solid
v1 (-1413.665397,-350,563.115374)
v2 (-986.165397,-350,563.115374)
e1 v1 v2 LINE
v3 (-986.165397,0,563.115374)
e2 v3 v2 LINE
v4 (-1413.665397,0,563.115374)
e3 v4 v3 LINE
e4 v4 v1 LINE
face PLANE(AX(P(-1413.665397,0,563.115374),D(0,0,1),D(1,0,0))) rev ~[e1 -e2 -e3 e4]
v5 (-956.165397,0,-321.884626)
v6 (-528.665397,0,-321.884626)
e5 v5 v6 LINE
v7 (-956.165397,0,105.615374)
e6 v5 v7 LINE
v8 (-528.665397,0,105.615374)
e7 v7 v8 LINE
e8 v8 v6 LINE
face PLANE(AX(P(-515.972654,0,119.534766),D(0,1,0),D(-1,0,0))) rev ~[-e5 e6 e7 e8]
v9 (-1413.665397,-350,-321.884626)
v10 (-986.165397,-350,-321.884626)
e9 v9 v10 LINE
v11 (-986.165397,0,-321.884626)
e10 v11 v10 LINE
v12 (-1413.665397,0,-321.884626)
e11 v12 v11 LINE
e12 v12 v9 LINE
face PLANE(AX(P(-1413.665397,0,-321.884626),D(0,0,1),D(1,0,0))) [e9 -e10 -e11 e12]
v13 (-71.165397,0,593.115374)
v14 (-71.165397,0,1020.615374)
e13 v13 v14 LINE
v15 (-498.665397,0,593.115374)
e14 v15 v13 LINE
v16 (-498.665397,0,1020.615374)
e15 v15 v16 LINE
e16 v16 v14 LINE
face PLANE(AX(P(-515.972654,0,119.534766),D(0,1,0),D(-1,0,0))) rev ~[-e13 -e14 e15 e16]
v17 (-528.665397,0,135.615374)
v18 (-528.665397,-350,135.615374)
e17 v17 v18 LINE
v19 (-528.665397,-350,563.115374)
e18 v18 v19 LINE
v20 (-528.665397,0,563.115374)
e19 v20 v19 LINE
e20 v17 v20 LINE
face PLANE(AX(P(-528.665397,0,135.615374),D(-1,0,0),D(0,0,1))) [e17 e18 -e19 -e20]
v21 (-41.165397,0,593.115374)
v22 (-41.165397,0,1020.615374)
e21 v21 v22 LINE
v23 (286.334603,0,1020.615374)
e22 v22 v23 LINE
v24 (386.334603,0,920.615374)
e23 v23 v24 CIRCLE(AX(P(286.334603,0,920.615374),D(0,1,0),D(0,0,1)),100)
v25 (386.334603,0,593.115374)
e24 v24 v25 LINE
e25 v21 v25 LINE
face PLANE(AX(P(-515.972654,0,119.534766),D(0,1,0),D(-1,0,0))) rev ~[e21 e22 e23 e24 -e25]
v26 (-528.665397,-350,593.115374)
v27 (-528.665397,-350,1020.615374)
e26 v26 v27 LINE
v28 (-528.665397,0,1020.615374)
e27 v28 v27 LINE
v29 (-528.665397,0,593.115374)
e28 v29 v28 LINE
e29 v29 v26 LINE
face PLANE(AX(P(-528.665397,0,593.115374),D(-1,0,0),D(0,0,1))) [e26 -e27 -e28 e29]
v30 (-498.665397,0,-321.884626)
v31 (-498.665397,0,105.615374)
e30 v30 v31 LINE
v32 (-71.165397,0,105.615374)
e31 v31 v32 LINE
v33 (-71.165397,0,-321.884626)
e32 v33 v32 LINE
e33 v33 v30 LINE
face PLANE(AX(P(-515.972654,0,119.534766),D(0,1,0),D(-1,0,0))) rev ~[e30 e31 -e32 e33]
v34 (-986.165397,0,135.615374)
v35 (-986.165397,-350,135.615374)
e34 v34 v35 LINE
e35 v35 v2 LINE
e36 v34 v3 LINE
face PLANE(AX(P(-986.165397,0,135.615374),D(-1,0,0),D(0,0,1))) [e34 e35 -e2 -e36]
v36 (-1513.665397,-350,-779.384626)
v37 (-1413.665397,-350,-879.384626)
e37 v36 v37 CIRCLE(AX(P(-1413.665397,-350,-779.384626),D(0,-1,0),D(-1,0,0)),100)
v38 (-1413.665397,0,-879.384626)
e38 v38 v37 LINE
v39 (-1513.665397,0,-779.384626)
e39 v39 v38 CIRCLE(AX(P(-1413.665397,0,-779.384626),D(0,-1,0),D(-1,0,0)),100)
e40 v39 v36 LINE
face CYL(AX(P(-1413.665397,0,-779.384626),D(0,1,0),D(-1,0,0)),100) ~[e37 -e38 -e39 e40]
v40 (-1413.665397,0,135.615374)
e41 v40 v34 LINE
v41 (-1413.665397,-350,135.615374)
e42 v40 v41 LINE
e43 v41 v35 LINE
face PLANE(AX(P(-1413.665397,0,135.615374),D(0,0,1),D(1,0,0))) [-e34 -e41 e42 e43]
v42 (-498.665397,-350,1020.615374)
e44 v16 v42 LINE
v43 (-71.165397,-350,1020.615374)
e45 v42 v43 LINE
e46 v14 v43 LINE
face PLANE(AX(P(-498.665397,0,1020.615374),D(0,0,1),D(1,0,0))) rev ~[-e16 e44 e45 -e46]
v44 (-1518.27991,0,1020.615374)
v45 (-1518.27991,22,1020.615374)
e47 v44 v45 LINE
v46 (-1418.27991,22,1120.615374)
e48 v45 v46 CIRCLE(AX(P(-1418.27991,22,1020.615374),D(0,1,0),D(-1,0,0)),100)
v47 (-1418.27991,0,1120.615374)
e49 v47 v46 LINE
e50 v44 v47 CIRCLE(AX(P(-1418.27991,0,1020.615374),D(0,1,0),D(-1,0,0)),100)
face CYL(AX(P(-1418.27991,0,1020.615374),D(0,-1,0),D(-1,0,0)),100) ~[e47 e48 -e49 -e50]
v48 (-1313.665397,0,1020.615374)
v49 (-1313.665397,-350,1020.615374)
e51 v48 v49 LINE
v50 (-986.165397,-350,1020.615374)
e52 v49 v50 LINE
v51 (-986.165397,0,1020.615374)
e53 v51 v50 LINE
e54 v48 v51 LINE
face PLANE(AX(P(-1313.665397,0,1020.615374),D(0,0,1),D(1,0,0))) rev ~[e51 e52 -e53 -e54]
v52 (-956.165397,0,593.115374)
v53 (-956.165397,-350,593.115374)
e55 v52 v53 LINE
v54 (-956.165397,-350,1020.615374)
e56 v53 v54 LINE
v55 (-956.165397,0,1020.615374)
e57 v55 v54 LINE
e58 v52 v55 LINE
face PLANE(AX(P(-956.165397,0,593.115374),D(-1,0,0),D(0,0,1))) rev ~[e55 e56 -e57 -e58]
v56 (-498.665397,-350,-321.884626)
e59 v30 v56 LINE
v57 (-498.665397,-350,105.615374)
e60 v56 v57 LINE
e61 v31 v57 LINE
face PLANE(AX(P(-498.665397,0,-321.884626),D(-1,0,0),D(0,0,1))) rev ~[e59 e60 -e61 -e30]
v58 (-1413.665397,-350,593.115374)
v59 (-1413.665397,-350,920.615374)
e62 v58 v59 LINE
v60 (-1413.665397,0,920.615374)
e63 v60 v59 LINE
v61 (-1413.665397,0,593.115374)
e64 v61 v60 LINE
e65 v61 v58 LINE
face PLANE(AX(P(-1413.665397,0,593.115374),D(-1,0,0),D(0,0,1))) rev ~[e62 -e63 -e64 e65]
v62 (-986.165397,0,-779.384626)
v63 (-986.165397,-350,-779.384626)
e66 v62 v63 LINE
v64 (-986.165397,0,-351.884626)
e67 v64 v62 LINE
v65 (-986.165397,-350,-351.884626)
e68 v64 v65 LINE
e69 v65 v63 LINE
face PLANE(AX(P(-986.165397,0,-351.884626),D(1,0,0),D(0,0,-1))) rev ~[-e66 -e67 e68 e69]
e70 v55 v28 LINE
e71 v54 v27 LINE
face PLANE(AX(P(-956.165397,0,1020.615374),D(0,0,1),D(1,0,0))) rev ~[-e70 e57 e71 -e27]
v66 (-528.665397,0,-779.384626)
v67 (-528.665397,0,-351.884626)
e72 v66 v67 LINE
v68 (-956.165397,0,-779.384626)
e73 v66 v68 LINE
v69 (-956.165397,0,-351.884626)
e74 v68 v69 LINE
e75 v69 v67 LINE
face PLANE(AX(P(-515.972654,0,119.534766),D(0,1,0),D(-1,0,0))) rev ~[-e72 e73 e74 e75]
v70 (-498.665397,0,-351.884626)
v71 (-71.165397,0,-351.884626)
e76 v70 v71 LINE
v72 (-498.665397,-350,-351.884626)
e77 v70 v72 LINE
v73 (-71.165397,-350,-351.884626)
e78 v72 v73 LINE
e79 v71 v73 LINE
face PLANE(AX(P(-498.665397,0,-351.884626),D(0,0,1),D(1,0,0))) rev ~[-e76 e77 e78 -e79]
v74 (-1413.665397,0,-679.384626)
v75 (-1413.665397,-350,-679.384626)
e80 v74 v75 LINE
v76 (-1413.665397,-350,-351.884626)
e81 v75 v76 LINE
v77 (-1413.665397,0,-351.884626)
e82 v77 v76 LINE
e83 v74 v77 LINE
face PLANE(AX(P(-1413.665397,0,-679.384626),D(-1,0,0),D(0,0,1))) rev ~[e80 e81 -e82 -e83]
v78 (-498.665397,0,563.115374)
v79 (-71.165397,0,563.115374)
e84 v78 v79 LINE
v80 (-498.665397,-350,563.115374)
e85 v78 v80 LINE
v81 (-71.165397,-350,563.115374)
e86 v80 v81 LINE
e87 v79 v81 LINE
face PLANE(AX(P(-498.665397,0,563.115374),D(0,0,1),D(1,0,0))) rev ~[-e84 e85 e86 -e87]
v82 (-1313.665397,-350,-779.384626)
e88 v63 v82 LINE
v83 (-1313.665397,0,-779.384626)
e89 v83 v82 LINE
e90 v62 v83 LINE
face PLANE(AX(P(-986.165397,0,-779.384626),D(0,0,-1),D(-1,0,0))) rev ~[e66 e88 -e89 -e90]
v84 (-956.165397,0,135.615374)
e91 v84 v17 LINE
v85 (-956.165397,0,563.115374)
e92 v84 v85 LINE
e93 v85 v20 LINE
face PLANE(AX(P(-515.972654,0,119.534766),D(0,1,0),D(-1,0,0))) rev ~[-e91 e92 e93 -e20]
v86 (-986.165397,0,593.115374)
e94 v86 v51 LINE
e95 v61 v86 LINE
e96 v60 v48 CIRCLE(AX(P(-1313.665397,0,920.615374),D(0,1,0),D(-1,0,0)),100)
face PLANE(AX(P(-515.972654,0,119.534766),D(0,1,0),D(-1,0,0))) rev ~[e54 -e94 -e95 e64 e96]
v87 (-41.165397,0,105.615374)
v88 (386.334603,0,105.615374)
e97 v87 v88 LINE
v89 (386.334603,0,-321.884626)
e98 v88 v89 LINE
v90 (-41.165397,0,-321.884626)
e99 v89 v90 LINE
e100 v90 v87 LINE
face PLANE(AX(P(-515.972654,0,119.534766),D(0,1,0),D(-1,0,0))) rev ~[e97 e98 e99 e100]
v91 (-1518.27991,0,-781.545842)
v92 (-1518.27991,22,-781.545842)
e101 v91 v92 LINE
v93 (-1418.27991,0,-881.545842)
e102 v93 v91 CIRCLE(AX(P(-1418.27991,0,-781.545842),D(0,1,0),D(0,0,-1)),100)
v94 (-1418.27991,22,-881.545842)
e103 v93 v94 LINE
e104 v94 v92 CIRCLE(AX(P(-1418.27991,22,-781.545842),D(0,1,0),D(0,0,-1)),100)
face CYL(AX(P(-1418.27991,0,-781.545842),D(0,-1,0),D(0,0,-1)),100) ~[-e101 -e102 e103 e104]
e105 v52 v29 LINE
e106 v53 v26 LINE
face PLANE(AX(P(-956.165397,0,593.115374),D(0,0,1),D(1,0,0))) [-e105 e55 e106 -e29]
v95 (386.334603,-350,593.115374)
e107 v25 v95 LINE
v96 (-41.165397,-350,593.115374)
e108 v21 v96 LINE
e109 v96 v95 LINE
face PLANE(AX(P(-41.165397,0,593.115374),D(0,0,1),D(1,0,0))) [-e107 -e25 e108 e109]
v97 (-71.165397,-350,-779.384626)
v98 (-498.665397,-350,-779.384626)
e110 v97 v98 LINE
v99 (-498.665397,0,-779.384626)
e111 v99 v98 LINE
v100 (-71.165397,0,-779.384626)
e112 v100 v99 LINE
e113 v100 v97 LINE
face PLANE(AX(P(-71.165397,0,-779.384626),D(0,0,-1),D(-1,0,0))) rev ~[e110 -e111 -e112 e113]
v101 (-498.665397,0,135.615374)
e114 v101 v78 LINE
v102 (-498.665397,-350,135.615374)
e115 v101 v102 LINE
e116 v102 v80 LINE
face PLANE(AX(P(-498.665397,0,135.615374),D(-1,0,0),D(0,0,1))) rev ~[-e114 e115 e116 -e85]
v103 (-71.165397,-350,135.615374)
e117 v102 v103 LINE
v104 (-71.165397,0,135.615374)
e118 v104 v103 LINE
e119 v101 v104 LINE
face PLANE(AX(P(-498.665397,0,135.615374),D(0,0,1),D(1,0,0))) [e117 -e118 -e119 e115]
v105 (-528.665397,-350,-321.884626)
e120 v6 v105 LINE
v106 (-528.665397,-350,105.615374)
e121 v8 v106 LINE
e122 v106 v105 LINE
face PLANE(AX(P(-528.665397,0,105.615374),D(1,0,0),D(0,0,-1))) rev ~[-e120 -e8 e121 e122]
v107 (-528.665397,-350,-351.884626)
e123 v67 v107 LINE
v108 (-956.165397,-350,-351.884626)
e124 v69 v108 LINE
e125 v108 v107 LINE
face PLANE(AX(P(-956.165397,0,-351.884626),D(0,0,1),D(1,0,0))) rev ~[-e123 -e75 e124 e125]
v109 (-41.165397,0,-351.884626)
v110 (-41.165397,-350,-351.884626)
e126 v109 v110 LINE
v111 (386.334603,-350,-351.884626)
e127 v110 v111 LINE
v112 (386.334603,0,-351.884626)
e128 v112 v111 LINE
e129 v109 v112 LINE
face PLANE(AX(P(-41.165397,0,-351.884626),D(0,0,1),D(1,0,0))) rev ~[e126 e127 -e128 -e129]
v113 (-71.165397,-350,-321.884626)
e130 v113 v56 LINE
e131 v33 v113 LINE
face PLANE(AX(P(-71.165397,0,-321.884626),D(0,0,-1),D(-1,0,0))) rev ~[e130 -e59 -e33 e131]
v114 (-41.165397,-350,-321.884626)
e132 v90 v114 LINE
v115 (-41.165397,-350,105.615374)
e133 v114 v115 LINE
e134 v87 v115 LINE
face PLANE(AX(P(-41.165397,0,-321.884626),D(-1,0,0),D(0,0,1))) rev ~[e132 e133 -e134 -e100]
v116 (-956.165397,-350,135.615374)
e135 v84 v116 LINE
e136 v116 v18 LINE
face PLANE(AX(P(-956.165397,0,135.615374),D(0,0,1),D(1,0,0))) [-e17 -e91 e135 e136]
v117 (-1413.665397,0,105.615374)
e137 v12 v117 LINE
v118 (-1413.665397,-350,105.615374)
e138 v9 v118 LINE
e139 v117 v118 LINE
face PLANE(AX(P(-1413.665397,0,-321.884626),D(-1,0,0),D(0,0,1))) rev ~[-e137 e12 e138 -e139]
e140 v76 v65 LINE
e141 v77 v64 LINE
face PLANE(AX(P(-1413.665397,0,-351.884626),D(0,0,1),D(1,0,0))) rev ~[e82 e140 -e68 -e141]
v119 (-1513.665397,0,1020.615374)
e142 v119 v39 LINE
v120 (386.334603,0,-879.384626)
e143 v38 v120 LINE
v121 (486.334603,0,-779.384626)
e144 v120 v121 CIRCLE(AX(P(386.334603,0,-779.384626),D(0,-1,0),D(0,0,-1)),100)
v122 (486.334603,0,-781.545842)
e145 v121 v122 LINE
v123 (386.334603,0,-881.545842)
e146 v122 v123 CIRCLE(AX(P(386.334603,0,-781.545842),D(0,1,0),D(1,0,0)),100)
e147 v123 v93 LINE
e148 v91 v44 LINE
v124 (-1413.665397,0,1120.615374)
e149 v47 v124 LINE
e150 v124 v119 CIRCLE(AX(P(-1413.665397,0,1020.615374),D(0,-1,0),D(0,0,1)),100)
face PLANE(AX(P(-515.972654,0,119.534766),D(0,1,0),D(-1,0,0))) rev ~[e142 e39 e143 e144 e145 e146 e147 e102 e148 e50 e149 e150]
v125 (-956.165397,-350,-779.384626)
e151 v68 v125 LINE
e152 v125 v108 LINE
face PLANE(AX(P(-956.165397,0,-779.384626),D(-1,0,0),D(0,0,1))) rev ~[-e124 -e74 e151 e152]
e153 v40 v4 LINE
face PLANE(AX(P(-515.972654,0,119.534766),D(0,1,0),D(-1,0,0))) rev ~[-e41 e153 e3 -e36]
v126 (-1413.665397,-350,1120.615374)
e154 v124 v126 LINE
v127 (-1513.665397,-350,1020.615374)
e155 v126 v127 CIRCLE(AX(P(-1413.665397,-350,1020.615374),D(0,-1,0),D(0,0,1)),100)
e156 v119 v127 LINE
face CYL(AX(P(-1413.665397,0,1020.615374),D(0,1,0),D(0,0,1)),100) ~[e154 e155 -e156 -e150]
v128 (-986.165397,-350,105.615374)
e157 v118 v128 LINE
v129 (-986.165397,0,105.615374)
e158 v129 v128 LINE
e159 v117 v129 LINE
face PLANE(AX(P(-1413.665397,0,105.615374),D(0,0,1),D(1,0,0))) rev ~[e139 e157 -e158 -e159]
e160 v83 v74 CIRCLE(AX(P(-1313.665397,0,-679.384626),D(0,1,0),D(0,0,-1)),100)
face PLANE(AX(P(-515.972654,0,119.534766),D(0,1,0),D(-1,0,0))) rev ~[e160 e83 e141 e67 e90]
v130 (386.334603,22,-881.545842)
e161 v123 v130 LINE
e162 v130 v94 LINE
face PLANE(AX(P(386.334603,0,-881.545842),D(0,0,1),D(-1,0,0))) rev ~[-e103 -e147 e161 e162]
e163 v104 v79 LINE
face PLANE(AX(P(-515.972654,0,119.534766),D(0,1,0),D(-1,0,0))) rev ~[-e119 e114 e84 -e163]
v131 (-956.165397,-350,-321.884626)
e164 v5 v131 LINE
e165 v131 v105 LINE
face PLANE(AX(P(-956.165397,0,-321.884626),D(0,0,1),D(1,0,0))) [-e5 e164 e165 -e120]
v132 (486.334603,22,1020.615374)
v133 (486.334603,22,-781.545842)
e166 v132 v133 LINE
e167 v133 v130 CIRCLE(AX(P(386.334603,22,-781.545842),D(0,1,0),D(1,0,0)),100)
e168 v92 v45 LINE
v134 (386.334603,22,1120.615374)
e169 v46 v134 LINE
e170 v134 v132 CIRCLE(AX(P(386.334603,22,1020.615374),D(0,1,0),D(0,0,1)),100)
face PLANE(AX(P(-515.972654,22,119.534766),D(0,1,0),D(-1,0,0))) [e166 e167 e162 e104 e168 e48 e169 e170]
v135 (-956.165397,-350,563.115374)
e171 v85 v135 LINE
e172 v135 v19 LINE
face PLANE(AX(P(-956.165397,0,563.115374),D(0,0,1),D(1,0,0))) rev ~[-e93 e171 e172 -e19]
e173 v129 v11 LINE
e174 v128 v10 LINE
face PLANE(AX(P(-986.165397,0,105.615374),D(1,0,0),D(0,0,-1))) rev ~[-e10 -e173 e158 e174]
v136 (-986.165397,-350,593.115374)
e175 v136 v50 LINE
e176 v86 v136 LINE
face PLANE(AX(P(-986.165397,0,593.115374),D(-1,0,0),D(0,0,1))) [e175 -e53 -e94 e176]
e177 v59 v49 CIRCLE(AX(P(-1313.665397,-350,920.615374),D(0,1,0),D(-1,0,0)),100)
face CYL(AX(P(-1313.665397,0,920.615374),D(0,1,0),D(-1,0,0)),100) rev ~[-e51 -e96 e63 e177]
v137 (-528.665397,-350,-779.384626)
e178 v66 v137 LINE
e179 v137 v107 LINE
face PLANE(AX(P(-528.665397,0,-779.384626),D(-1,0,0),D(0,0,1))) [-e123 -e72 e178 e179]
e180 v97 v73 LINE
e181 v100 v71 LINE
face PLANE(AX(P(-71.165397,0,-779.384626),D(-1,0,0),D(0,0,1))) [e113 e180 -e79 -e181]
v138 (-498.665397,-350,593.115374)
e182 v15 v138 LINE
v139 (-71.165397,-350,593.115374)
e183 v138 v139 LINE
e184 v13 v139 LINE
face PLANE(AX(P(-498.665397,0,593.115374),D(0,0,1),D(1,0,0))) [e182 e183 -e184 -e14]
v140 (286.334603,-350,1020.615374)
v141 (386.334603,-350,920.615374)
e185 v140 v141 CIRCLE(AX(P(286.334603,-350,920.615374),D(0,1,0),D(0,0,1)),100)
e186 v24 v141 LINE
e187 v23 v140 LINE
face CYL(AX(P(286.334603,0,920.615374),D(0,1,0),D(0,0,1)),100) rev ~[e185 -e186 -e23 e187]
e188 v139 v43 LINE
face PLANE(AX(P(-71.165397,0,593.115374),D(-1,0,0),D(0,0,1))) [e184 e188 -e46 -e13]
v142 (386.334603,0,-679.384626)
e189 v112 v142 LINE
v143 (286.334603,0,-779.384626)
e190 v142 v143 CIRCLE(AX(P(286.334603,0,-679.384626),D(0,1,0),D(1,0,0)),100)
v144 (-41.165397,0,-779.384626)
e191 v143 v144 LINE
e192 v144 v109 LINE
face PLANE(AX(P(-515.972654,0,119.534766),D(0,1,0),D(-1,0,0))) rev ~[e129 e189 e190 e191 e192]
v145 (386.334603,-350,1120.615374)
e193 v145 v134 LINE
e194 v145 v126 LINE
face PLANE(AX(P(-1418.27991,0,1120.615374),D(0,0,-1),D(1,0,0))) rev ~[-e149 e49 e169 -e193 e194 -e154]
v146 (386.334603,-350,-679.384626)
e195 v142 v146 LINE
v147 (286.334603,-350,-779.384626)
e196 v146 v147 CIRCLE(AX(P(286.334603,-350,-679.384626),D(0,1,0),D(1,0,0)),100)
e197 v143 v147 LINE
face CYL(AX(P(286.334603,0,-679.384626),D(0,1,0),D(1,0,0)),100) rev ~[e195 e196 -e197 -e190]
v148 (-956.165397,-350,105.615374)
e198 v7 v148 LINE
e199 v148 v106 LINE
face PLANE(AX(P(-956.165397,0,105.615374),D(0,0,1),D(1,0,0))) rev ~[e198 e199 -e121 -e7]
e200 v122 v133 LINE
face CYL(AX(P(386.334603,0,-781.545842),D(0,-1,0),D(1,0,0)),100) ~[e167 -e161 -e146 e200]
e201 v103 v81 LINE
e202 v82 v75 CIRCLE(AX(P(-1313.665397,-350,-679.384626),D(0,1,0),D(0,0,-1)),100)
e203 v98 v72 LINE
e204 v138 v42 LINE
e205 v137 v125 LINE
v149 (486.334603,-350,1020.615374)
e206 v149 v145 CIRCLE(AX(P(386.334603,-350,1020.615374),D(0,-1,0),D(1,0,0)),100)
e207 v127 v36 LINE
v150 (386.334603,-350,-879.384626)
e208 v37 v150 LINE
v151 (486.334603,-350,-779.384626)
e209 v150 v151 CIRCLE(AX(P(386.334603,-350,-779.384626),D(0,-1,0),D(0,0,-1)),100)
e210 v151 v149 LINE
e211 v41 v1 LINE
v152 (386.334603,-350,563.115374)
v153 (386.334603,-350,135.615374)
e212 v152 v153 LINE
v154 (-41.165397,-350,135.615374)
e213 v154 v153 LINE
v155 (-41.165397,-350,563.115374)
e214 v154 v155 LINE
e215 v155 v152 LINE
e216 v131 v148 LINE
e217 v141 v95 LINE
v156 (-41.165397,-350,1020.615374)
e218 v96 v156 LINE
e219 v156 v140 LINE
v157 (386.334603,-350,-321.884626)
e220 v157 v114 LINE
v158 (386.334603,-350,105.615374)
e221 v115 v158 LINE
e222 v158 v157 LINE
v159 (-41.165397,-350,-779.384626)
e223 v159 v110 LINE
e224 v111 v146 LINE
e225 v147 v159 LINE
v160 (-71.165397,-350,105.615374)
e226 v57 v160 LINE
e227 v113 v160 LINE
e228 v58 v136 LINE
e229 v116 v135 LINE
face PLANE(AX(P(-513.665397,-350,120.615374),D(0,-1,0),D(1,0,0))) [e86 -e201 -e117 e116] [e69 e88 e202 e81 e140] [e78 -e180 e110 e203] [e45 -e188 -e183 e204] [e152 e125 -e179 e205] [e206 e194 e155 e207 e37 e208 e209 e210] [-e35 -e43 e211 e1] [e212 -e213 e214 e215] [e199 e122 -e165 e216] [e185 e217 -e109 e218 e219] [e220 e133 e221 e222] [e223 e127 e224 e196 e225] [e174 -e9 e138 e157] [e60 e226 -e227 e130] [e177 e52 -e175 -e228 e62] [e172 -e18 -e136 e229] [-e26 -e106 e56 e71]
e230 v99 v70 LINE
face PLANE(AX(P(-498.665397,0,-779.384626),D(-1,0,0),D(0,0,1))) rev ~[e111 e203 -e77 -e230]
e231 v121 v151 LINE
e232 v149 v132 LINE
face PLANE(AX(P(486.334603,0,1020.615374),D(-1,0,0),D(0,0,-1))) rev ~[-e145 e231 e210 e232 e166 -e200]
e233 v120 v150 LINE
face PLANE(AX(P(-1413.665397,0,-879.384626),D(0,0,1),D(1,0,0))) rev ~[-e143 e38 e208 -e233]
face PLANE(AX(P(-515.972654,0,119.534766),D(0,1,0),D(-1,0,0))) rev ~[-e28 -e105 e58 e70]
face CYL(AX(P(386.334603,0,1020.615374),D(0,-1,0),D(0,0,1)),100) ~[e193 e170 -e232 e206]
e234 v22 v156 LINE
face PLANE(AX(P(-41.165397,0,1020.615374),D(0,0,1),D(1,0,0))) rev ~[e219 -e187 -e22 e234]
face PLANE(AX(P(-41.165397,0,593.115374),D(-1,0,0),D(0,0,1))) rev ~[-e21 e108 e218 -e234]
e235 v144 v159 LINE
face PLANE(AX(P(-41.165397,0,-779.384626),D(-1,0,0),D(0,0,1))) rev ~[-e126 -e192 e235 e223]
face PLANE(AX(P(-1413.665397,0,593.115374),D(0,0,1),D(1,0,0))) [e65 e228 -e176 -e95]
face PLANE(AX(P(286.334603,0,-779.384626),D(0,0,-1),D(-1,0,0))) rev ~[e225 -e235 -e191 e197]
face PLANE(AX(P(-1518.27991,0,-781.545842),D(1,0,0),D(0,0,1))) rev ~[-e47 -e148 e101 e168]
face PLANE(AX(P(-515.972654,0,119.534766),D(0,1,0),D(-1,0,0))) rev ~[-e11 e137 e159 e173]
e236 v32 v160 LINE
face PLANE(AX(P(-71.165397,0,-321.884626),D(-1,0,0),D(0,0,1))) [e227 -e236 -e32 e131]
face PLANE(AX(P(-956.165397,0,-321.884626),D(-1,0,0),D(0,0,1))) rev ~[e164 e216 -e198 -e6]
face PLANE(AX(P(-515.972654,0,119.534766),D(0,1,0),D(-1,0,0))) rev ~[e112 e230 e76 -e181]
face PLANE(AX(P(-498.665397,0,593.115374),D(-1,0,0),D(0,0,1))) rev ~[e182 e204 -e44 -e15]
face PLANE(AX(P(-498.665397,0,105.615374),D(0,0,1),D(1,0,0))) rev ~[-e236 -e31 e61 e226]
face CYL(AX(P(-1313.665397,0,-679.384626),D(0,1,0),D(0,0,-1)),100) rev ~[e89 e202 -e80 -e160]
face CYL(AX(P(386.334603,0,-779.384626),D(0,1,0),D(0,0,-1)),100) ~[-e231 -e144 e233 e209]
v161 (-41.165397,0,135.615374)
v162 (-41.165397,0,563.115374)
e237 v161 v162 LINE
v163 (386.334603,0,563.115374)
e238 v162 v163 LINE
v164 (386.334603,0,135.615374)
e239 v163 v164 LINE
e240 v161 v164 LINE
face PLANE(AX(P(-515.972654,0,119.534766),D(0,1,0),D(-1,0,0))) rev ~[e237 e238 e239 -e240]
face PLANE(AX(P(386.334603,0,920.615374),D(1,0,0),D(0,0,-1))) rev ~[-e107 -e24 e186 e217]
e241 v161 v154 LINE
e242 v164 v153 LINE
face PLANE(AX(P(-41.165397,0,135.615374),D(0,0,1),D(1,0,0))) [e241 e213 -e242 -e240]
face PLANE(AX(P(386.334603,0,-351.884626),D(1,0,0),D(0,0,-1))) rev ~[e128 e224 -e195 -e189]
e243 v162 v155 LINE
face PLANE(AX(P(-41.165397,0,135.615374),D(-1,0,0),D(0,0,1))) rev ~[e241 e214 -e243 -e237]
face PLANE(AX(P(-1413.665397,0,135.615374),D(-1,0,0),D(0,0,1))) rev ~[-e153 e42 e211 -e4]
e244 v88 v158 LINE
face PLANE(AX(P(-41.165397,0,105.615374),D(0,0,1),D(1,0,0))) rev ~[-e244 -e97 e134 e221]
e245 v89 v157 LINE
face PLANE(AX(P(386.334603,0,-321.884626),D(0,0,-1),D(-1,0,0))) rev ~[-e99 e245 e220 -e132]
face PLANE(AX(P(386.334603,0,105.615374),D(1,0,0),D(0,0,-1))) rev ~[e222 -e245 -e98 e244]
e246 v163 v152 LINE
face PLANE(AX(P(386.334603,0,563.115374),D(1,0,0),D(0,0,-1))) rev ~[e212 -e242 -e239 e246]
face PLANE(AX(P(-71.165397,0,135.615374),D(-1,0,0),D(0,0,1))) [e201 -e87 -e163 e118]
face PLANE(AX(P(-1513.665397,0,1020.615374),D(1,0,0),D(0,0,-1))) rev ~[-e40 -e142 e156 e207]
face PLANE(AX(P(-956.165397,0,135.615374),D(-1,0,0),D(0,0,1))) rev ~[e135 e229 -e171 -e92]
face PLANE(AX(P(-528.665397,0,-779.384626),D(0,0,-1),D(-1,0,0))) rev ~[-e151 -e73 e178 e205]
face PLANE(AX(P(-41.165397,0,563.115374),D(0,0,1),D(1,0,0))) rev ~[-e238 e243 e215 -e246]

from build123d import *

# Parameters (mm, degrees)
F0_W     = 427.5
F0_H     = 30
F0_W_2   = 30
F0_H_2   = 427.5
F1_DEPTH = 350
F3_DEPTH = 22


with BuildPart() as f1:
    # F0 (on Front) → F1 (new body)
    with BuildSketch(Plane.XZ):
        with BuildLine():
            Line((386.3346025348, 1120.6153738732), (-1413.6653974652, 1120.6153738732))
            ThreePointArc((-1413.6653974652, 1120.6153738732), (-1484.3760755839, 1091.3260519918), (-1513.6653974652, 1020.6153738732))
            Line((-1513.6653974652, 1020.6153738732), (-1513.6653974652, -779.3846261268))
            ThreePointArc((-1513.6653974652, -779.3846261268), (-1484.3760755839, -850.0953042455), (-1413.6653974652, -879.3846261268))
            Line((-1413.6653974652, -879.3846261268), (386.3346025348, -879.3846261268))
            ThreePointArc((386.3346025348, -879.3846261268), (457.0452806534, -850.0953042455), (486.3346025348, -779.3846261268))
            Line((486.3346025348, -779.3846261268), (486.3346025348, 1020.6153738732))
            ThreePointArc((486.3346025348, 1020.6153738732), (457.0452806534, 1091.3260519918), (386.3346025348, 1120.6153738732))
        make_face()
        with BuildLine():
            ThreePointArc((-1413.6653974652, 920.6153738732), (-1384.3760755839, 991.3260519918), (-1313.6653974652, 1020.6153738732))
            Line((-1313.6653974652, 1020.6153738732), (-986.1653974652, 1020.6153738732))
            Line((-986.1653974652, 1020.6153738732), (-956.1653974652, 1020.6153738732))
            Line((-956.1653974652, 1020.6153738732), (-528.6653974652, 1020.6153738732))
            Line((-528.6653974652, 1020.6153738732), (-498.6653974652, 1020.6153738732))
            Line((-498.6653974652, 1020.6153738732), (-71.1653974652, 1020.6153738732))
            Line((-71.1653974652, 1020.6153738732), (-41.1653974652, 1020.6153738732))
            Line((-41.1653974652, 1020.6153738732), (286.3346025348, 1020.6153738732))
            ThreePointArc((286.3346025348, 1020.6153738732), (357.0452806534, 991.3260519918), (386.3346025348, 920.6153738732))
            Line((386.3346025348, 920.6153738732), (386.3346025348, 593.1153738732))
            Line((386.3346025348, 593.1153738732), (386.3346025348, 563.1153738732))
            Line((386.3346025348, 563.1153738732), (386.3346025348, 135.6153738732))
            Line((386.3346025348, 135.6153738732), (386.3346025348, 105.6153738732))
            Line((386.3346025348, 105.6153738732), (386.3346025348, -321.8846261268))
            Line((386.3346025348, -321.8846261268), (386.3346025348, -351.8846261268))
            Line((386.3346025348, -351.8846261268), (386.3346025348, -679.3846261268))
            ThreePointArc((386.3346025348, -679.3846261268), (357.0452806534, -750.0953042455), (286.3346025348, -779.3846261268))
            Line((286.3346025348, -779.3846261268), (-41.1653974652, -779.3846261268))
            Line((-41.1653974652, -779.3846261268), (-71.1653974652, -779.3846261268))
            Line((-71.1653974652, -779.3846261268), (-498.6653974652, -779.3846261268))
            Line((-498.6653974652, -779.3846261268), (-528.6653974652, -779.3846261268))
            Line((-528.6653974652, -779.3846261268), (-956.1653974652, -779.3846261268))
            Line((-956.1653974652, -779.3846261268), (-986.1653974652, -779.3846261268))
            Line((-986.1653974652, -779.3846261268), (-1313.6653974652, -779.3846261268))
            ThreePointArc((-1313.6653974652, -779.3846261268), (-1384.3760755839, -750.0953042455), (-1413.6653974652, -679.3846261268))
            Line((-1413.6653974652, -679.3846261268), (-1413.6653974652, -351.8846261268))
            Line((-1413.6653974652, -351.8846261268), (-1413.6653974652, -321.8846261268))
            Line((-1413.6653974652, -321.8846261268), (-1413.6653974652, 105.6153738732))
            Line((-1413.6653974652, 105.6153738732), (-1413.6653974652, 135.6153738732))
            Line((-1413.6653974652, 135.6153738732), (-1413.6653974652, 563.1153738732))
            Line((-1413.6653974652, 563.1153738732), (-1413.6653974652, 593.1153738732))
            Line((-1413.6653974652, 593.1153738732), (-1413.6653974652, 920.6153738732))
        make_face(mode=Mode.SUBTRACT)
        with Locations((-742.4153974652, 578.1153738732)):
            Rectangle(F0_W, F0_H)
        with Locations((-1199.9153974652, 578.1153738732)):
            Rectangle(F0_W, F0_H)
        with Locations((-971.1653974652, 806.8653738732)):
            Rectangle(F0_W_2, F0_H_2)
        with Locations((-971.1653974652, 578.1153738732)):
            Rectangle(F0_W_2, F0_H)
        with Locations((-513.6653974652, 806.8653738732)):
            Rectangle(F0_W_2, F0_H_2)
        with Locations((-513.6653974652, 578.1153738732)):
            Rectangle(F0_W_2, F0_H)
        with Locations((-284.9153974652, 578.1153738732)):
            Rectangle(F0_W, F0_H)
        with Locations((-56.1653974652, 806.8653738732)):
            Rectangle(F0_W_2, F0_H_2)
        with Locations((-56.1653974652, 578.1153738732)):
            Rectangle(F0_W_2, F0_H)
        with Locations((172.5846025348, 578.1153738732)):
            Rectangle(F0_W, F0_H)
        with Locations((-56.1653974652, 349.3653738732)):
            Rectangle(F0_W_2, F0_H_2)
        with Locations((-513.6653974652, 349.3653738732)):
            Rectangle(F0_W_2, F0_H_2)
        with Locations((-971.1653974652, 349.3653738732)):
            Rectangle(F0_W_2, F0_H_2)
        with Locations((-1199.9153974652, 120.6153738732)):
            Rectangle(F0_W, F0_H)
        with Locations((-971.1653974652, 120.6153738732)):
            Rectangle(F0_W_2, F0_H)
        with Locations((-742.4153974652, 120.6153738732)):
            Rectangle(F0_W, F0_H)
        with Locations((-284.9153974652, 120.6153738732)):
            Rectangle(F0_W, F0_H)
        with Locations((-513.6653974652, 120.6153738732)):
            Rectangle(F0_W_2, F0_H)
        with Locations((-56.1653974652, 120.6153738732)):
            Rectangle(F0_W_2, F0_H)
        with Locations((172.5846025348, 120.6153738732)):
            Rectangle(F0_W, F0_H)
        with Locations((-56.1653974652, -336.8846261268)):
            Rectangle(F0_W_2, F0_H)
        with Locations((-513.6653974652, -336.8846261268)):
            Rectangle(F0_W_2, F0_H)
        with Locations((-971.1653974652, -336.8846261268)):
            Rectangle(F0_W_2, F0_H)
        with Locations((-971.1653974652, -108.1346261268)):
            Rectangle(F0_W_2, F0_H_2)
        with Locations((-513.6653974652, -108.1346261268)):
            Rectangle(F0_W_2, F0_H_2)
        with Locations((-742.4153974652, -336.8846261268)):
            Rectangle(F0_W, F0_H)
        with Locations((-284.9153974652, -336.8846261268)):
            Rectangle(F0_W, F0_H)
        with Locations((172.5846025348, -336.8846261268)):
            Rectangle(F0_W, F0_H)
        with Locations((-56.1653974652, -108.1346261268)):
            Rectangle(F0_W_2, F0_H_2)
        with Locations((-56.1653974652, -565.6346261268)):
            Rectangle(F0_W_2, F0_H_2)
        with Locations((-513.6653974652, -565.6346261268)):
            Rectangle(F0_W_2, F0_H_2)
        with Locations((-971.1653974652, -565.6346261268)):
            Rectangle(F0_W_2, F0_H_2)
        with Locations((-1199.9153974652, -336.8846261268)):
            Rectangle(F0_W, F0_H)
    extrude(amount=F1_DEPTH)

    # F2 (on face) → F3 (join)
    with BuildSketch(Plane(origin=(0, 0, 0), x_dir=(-1, 0, 0), z_dir=(0, 1, 0))):
        with BuildLine():
            Line((1418.2799100876, 1120.6153738732), (-386.3346025348, 1120.6153738732))
            ThreePointArc((-386.3346025348, 1120.6153738732), (-457.0452806534, 1091.3260519918), (-486.3346025348, 1020.6153738732))
            Line((-486.3346025348, 1020.6153738732), (-486.3346025348, -781.5458416939))
            ThreePointArc((-486.3346025348, -781.5458416939), (-457.0452806534, -852.2565198125), (-386.3346025348, -881.5458416939))
            Line((-386.3346025348, -881.5458416939), (1418.2799100876, -881.5458416939))
            ThreePointArc((1418.2799100876, -881.5458416939), (1488.9905882062, -852.2565198125), (1518.2799100876, -781.5458416939))
            Line((1518.2799100876, -781.5458416939), (1518.2799100876, 1020.6153738732))
            ThreePointArc((1518.2799100876, 1020.6153738732), (1488.9905882062, 1091.3260519918), (1418.2799100876, 1120.6153738732))
        make_face()
    extrude(amount=F3_DEPTH)


solid = f1.part
